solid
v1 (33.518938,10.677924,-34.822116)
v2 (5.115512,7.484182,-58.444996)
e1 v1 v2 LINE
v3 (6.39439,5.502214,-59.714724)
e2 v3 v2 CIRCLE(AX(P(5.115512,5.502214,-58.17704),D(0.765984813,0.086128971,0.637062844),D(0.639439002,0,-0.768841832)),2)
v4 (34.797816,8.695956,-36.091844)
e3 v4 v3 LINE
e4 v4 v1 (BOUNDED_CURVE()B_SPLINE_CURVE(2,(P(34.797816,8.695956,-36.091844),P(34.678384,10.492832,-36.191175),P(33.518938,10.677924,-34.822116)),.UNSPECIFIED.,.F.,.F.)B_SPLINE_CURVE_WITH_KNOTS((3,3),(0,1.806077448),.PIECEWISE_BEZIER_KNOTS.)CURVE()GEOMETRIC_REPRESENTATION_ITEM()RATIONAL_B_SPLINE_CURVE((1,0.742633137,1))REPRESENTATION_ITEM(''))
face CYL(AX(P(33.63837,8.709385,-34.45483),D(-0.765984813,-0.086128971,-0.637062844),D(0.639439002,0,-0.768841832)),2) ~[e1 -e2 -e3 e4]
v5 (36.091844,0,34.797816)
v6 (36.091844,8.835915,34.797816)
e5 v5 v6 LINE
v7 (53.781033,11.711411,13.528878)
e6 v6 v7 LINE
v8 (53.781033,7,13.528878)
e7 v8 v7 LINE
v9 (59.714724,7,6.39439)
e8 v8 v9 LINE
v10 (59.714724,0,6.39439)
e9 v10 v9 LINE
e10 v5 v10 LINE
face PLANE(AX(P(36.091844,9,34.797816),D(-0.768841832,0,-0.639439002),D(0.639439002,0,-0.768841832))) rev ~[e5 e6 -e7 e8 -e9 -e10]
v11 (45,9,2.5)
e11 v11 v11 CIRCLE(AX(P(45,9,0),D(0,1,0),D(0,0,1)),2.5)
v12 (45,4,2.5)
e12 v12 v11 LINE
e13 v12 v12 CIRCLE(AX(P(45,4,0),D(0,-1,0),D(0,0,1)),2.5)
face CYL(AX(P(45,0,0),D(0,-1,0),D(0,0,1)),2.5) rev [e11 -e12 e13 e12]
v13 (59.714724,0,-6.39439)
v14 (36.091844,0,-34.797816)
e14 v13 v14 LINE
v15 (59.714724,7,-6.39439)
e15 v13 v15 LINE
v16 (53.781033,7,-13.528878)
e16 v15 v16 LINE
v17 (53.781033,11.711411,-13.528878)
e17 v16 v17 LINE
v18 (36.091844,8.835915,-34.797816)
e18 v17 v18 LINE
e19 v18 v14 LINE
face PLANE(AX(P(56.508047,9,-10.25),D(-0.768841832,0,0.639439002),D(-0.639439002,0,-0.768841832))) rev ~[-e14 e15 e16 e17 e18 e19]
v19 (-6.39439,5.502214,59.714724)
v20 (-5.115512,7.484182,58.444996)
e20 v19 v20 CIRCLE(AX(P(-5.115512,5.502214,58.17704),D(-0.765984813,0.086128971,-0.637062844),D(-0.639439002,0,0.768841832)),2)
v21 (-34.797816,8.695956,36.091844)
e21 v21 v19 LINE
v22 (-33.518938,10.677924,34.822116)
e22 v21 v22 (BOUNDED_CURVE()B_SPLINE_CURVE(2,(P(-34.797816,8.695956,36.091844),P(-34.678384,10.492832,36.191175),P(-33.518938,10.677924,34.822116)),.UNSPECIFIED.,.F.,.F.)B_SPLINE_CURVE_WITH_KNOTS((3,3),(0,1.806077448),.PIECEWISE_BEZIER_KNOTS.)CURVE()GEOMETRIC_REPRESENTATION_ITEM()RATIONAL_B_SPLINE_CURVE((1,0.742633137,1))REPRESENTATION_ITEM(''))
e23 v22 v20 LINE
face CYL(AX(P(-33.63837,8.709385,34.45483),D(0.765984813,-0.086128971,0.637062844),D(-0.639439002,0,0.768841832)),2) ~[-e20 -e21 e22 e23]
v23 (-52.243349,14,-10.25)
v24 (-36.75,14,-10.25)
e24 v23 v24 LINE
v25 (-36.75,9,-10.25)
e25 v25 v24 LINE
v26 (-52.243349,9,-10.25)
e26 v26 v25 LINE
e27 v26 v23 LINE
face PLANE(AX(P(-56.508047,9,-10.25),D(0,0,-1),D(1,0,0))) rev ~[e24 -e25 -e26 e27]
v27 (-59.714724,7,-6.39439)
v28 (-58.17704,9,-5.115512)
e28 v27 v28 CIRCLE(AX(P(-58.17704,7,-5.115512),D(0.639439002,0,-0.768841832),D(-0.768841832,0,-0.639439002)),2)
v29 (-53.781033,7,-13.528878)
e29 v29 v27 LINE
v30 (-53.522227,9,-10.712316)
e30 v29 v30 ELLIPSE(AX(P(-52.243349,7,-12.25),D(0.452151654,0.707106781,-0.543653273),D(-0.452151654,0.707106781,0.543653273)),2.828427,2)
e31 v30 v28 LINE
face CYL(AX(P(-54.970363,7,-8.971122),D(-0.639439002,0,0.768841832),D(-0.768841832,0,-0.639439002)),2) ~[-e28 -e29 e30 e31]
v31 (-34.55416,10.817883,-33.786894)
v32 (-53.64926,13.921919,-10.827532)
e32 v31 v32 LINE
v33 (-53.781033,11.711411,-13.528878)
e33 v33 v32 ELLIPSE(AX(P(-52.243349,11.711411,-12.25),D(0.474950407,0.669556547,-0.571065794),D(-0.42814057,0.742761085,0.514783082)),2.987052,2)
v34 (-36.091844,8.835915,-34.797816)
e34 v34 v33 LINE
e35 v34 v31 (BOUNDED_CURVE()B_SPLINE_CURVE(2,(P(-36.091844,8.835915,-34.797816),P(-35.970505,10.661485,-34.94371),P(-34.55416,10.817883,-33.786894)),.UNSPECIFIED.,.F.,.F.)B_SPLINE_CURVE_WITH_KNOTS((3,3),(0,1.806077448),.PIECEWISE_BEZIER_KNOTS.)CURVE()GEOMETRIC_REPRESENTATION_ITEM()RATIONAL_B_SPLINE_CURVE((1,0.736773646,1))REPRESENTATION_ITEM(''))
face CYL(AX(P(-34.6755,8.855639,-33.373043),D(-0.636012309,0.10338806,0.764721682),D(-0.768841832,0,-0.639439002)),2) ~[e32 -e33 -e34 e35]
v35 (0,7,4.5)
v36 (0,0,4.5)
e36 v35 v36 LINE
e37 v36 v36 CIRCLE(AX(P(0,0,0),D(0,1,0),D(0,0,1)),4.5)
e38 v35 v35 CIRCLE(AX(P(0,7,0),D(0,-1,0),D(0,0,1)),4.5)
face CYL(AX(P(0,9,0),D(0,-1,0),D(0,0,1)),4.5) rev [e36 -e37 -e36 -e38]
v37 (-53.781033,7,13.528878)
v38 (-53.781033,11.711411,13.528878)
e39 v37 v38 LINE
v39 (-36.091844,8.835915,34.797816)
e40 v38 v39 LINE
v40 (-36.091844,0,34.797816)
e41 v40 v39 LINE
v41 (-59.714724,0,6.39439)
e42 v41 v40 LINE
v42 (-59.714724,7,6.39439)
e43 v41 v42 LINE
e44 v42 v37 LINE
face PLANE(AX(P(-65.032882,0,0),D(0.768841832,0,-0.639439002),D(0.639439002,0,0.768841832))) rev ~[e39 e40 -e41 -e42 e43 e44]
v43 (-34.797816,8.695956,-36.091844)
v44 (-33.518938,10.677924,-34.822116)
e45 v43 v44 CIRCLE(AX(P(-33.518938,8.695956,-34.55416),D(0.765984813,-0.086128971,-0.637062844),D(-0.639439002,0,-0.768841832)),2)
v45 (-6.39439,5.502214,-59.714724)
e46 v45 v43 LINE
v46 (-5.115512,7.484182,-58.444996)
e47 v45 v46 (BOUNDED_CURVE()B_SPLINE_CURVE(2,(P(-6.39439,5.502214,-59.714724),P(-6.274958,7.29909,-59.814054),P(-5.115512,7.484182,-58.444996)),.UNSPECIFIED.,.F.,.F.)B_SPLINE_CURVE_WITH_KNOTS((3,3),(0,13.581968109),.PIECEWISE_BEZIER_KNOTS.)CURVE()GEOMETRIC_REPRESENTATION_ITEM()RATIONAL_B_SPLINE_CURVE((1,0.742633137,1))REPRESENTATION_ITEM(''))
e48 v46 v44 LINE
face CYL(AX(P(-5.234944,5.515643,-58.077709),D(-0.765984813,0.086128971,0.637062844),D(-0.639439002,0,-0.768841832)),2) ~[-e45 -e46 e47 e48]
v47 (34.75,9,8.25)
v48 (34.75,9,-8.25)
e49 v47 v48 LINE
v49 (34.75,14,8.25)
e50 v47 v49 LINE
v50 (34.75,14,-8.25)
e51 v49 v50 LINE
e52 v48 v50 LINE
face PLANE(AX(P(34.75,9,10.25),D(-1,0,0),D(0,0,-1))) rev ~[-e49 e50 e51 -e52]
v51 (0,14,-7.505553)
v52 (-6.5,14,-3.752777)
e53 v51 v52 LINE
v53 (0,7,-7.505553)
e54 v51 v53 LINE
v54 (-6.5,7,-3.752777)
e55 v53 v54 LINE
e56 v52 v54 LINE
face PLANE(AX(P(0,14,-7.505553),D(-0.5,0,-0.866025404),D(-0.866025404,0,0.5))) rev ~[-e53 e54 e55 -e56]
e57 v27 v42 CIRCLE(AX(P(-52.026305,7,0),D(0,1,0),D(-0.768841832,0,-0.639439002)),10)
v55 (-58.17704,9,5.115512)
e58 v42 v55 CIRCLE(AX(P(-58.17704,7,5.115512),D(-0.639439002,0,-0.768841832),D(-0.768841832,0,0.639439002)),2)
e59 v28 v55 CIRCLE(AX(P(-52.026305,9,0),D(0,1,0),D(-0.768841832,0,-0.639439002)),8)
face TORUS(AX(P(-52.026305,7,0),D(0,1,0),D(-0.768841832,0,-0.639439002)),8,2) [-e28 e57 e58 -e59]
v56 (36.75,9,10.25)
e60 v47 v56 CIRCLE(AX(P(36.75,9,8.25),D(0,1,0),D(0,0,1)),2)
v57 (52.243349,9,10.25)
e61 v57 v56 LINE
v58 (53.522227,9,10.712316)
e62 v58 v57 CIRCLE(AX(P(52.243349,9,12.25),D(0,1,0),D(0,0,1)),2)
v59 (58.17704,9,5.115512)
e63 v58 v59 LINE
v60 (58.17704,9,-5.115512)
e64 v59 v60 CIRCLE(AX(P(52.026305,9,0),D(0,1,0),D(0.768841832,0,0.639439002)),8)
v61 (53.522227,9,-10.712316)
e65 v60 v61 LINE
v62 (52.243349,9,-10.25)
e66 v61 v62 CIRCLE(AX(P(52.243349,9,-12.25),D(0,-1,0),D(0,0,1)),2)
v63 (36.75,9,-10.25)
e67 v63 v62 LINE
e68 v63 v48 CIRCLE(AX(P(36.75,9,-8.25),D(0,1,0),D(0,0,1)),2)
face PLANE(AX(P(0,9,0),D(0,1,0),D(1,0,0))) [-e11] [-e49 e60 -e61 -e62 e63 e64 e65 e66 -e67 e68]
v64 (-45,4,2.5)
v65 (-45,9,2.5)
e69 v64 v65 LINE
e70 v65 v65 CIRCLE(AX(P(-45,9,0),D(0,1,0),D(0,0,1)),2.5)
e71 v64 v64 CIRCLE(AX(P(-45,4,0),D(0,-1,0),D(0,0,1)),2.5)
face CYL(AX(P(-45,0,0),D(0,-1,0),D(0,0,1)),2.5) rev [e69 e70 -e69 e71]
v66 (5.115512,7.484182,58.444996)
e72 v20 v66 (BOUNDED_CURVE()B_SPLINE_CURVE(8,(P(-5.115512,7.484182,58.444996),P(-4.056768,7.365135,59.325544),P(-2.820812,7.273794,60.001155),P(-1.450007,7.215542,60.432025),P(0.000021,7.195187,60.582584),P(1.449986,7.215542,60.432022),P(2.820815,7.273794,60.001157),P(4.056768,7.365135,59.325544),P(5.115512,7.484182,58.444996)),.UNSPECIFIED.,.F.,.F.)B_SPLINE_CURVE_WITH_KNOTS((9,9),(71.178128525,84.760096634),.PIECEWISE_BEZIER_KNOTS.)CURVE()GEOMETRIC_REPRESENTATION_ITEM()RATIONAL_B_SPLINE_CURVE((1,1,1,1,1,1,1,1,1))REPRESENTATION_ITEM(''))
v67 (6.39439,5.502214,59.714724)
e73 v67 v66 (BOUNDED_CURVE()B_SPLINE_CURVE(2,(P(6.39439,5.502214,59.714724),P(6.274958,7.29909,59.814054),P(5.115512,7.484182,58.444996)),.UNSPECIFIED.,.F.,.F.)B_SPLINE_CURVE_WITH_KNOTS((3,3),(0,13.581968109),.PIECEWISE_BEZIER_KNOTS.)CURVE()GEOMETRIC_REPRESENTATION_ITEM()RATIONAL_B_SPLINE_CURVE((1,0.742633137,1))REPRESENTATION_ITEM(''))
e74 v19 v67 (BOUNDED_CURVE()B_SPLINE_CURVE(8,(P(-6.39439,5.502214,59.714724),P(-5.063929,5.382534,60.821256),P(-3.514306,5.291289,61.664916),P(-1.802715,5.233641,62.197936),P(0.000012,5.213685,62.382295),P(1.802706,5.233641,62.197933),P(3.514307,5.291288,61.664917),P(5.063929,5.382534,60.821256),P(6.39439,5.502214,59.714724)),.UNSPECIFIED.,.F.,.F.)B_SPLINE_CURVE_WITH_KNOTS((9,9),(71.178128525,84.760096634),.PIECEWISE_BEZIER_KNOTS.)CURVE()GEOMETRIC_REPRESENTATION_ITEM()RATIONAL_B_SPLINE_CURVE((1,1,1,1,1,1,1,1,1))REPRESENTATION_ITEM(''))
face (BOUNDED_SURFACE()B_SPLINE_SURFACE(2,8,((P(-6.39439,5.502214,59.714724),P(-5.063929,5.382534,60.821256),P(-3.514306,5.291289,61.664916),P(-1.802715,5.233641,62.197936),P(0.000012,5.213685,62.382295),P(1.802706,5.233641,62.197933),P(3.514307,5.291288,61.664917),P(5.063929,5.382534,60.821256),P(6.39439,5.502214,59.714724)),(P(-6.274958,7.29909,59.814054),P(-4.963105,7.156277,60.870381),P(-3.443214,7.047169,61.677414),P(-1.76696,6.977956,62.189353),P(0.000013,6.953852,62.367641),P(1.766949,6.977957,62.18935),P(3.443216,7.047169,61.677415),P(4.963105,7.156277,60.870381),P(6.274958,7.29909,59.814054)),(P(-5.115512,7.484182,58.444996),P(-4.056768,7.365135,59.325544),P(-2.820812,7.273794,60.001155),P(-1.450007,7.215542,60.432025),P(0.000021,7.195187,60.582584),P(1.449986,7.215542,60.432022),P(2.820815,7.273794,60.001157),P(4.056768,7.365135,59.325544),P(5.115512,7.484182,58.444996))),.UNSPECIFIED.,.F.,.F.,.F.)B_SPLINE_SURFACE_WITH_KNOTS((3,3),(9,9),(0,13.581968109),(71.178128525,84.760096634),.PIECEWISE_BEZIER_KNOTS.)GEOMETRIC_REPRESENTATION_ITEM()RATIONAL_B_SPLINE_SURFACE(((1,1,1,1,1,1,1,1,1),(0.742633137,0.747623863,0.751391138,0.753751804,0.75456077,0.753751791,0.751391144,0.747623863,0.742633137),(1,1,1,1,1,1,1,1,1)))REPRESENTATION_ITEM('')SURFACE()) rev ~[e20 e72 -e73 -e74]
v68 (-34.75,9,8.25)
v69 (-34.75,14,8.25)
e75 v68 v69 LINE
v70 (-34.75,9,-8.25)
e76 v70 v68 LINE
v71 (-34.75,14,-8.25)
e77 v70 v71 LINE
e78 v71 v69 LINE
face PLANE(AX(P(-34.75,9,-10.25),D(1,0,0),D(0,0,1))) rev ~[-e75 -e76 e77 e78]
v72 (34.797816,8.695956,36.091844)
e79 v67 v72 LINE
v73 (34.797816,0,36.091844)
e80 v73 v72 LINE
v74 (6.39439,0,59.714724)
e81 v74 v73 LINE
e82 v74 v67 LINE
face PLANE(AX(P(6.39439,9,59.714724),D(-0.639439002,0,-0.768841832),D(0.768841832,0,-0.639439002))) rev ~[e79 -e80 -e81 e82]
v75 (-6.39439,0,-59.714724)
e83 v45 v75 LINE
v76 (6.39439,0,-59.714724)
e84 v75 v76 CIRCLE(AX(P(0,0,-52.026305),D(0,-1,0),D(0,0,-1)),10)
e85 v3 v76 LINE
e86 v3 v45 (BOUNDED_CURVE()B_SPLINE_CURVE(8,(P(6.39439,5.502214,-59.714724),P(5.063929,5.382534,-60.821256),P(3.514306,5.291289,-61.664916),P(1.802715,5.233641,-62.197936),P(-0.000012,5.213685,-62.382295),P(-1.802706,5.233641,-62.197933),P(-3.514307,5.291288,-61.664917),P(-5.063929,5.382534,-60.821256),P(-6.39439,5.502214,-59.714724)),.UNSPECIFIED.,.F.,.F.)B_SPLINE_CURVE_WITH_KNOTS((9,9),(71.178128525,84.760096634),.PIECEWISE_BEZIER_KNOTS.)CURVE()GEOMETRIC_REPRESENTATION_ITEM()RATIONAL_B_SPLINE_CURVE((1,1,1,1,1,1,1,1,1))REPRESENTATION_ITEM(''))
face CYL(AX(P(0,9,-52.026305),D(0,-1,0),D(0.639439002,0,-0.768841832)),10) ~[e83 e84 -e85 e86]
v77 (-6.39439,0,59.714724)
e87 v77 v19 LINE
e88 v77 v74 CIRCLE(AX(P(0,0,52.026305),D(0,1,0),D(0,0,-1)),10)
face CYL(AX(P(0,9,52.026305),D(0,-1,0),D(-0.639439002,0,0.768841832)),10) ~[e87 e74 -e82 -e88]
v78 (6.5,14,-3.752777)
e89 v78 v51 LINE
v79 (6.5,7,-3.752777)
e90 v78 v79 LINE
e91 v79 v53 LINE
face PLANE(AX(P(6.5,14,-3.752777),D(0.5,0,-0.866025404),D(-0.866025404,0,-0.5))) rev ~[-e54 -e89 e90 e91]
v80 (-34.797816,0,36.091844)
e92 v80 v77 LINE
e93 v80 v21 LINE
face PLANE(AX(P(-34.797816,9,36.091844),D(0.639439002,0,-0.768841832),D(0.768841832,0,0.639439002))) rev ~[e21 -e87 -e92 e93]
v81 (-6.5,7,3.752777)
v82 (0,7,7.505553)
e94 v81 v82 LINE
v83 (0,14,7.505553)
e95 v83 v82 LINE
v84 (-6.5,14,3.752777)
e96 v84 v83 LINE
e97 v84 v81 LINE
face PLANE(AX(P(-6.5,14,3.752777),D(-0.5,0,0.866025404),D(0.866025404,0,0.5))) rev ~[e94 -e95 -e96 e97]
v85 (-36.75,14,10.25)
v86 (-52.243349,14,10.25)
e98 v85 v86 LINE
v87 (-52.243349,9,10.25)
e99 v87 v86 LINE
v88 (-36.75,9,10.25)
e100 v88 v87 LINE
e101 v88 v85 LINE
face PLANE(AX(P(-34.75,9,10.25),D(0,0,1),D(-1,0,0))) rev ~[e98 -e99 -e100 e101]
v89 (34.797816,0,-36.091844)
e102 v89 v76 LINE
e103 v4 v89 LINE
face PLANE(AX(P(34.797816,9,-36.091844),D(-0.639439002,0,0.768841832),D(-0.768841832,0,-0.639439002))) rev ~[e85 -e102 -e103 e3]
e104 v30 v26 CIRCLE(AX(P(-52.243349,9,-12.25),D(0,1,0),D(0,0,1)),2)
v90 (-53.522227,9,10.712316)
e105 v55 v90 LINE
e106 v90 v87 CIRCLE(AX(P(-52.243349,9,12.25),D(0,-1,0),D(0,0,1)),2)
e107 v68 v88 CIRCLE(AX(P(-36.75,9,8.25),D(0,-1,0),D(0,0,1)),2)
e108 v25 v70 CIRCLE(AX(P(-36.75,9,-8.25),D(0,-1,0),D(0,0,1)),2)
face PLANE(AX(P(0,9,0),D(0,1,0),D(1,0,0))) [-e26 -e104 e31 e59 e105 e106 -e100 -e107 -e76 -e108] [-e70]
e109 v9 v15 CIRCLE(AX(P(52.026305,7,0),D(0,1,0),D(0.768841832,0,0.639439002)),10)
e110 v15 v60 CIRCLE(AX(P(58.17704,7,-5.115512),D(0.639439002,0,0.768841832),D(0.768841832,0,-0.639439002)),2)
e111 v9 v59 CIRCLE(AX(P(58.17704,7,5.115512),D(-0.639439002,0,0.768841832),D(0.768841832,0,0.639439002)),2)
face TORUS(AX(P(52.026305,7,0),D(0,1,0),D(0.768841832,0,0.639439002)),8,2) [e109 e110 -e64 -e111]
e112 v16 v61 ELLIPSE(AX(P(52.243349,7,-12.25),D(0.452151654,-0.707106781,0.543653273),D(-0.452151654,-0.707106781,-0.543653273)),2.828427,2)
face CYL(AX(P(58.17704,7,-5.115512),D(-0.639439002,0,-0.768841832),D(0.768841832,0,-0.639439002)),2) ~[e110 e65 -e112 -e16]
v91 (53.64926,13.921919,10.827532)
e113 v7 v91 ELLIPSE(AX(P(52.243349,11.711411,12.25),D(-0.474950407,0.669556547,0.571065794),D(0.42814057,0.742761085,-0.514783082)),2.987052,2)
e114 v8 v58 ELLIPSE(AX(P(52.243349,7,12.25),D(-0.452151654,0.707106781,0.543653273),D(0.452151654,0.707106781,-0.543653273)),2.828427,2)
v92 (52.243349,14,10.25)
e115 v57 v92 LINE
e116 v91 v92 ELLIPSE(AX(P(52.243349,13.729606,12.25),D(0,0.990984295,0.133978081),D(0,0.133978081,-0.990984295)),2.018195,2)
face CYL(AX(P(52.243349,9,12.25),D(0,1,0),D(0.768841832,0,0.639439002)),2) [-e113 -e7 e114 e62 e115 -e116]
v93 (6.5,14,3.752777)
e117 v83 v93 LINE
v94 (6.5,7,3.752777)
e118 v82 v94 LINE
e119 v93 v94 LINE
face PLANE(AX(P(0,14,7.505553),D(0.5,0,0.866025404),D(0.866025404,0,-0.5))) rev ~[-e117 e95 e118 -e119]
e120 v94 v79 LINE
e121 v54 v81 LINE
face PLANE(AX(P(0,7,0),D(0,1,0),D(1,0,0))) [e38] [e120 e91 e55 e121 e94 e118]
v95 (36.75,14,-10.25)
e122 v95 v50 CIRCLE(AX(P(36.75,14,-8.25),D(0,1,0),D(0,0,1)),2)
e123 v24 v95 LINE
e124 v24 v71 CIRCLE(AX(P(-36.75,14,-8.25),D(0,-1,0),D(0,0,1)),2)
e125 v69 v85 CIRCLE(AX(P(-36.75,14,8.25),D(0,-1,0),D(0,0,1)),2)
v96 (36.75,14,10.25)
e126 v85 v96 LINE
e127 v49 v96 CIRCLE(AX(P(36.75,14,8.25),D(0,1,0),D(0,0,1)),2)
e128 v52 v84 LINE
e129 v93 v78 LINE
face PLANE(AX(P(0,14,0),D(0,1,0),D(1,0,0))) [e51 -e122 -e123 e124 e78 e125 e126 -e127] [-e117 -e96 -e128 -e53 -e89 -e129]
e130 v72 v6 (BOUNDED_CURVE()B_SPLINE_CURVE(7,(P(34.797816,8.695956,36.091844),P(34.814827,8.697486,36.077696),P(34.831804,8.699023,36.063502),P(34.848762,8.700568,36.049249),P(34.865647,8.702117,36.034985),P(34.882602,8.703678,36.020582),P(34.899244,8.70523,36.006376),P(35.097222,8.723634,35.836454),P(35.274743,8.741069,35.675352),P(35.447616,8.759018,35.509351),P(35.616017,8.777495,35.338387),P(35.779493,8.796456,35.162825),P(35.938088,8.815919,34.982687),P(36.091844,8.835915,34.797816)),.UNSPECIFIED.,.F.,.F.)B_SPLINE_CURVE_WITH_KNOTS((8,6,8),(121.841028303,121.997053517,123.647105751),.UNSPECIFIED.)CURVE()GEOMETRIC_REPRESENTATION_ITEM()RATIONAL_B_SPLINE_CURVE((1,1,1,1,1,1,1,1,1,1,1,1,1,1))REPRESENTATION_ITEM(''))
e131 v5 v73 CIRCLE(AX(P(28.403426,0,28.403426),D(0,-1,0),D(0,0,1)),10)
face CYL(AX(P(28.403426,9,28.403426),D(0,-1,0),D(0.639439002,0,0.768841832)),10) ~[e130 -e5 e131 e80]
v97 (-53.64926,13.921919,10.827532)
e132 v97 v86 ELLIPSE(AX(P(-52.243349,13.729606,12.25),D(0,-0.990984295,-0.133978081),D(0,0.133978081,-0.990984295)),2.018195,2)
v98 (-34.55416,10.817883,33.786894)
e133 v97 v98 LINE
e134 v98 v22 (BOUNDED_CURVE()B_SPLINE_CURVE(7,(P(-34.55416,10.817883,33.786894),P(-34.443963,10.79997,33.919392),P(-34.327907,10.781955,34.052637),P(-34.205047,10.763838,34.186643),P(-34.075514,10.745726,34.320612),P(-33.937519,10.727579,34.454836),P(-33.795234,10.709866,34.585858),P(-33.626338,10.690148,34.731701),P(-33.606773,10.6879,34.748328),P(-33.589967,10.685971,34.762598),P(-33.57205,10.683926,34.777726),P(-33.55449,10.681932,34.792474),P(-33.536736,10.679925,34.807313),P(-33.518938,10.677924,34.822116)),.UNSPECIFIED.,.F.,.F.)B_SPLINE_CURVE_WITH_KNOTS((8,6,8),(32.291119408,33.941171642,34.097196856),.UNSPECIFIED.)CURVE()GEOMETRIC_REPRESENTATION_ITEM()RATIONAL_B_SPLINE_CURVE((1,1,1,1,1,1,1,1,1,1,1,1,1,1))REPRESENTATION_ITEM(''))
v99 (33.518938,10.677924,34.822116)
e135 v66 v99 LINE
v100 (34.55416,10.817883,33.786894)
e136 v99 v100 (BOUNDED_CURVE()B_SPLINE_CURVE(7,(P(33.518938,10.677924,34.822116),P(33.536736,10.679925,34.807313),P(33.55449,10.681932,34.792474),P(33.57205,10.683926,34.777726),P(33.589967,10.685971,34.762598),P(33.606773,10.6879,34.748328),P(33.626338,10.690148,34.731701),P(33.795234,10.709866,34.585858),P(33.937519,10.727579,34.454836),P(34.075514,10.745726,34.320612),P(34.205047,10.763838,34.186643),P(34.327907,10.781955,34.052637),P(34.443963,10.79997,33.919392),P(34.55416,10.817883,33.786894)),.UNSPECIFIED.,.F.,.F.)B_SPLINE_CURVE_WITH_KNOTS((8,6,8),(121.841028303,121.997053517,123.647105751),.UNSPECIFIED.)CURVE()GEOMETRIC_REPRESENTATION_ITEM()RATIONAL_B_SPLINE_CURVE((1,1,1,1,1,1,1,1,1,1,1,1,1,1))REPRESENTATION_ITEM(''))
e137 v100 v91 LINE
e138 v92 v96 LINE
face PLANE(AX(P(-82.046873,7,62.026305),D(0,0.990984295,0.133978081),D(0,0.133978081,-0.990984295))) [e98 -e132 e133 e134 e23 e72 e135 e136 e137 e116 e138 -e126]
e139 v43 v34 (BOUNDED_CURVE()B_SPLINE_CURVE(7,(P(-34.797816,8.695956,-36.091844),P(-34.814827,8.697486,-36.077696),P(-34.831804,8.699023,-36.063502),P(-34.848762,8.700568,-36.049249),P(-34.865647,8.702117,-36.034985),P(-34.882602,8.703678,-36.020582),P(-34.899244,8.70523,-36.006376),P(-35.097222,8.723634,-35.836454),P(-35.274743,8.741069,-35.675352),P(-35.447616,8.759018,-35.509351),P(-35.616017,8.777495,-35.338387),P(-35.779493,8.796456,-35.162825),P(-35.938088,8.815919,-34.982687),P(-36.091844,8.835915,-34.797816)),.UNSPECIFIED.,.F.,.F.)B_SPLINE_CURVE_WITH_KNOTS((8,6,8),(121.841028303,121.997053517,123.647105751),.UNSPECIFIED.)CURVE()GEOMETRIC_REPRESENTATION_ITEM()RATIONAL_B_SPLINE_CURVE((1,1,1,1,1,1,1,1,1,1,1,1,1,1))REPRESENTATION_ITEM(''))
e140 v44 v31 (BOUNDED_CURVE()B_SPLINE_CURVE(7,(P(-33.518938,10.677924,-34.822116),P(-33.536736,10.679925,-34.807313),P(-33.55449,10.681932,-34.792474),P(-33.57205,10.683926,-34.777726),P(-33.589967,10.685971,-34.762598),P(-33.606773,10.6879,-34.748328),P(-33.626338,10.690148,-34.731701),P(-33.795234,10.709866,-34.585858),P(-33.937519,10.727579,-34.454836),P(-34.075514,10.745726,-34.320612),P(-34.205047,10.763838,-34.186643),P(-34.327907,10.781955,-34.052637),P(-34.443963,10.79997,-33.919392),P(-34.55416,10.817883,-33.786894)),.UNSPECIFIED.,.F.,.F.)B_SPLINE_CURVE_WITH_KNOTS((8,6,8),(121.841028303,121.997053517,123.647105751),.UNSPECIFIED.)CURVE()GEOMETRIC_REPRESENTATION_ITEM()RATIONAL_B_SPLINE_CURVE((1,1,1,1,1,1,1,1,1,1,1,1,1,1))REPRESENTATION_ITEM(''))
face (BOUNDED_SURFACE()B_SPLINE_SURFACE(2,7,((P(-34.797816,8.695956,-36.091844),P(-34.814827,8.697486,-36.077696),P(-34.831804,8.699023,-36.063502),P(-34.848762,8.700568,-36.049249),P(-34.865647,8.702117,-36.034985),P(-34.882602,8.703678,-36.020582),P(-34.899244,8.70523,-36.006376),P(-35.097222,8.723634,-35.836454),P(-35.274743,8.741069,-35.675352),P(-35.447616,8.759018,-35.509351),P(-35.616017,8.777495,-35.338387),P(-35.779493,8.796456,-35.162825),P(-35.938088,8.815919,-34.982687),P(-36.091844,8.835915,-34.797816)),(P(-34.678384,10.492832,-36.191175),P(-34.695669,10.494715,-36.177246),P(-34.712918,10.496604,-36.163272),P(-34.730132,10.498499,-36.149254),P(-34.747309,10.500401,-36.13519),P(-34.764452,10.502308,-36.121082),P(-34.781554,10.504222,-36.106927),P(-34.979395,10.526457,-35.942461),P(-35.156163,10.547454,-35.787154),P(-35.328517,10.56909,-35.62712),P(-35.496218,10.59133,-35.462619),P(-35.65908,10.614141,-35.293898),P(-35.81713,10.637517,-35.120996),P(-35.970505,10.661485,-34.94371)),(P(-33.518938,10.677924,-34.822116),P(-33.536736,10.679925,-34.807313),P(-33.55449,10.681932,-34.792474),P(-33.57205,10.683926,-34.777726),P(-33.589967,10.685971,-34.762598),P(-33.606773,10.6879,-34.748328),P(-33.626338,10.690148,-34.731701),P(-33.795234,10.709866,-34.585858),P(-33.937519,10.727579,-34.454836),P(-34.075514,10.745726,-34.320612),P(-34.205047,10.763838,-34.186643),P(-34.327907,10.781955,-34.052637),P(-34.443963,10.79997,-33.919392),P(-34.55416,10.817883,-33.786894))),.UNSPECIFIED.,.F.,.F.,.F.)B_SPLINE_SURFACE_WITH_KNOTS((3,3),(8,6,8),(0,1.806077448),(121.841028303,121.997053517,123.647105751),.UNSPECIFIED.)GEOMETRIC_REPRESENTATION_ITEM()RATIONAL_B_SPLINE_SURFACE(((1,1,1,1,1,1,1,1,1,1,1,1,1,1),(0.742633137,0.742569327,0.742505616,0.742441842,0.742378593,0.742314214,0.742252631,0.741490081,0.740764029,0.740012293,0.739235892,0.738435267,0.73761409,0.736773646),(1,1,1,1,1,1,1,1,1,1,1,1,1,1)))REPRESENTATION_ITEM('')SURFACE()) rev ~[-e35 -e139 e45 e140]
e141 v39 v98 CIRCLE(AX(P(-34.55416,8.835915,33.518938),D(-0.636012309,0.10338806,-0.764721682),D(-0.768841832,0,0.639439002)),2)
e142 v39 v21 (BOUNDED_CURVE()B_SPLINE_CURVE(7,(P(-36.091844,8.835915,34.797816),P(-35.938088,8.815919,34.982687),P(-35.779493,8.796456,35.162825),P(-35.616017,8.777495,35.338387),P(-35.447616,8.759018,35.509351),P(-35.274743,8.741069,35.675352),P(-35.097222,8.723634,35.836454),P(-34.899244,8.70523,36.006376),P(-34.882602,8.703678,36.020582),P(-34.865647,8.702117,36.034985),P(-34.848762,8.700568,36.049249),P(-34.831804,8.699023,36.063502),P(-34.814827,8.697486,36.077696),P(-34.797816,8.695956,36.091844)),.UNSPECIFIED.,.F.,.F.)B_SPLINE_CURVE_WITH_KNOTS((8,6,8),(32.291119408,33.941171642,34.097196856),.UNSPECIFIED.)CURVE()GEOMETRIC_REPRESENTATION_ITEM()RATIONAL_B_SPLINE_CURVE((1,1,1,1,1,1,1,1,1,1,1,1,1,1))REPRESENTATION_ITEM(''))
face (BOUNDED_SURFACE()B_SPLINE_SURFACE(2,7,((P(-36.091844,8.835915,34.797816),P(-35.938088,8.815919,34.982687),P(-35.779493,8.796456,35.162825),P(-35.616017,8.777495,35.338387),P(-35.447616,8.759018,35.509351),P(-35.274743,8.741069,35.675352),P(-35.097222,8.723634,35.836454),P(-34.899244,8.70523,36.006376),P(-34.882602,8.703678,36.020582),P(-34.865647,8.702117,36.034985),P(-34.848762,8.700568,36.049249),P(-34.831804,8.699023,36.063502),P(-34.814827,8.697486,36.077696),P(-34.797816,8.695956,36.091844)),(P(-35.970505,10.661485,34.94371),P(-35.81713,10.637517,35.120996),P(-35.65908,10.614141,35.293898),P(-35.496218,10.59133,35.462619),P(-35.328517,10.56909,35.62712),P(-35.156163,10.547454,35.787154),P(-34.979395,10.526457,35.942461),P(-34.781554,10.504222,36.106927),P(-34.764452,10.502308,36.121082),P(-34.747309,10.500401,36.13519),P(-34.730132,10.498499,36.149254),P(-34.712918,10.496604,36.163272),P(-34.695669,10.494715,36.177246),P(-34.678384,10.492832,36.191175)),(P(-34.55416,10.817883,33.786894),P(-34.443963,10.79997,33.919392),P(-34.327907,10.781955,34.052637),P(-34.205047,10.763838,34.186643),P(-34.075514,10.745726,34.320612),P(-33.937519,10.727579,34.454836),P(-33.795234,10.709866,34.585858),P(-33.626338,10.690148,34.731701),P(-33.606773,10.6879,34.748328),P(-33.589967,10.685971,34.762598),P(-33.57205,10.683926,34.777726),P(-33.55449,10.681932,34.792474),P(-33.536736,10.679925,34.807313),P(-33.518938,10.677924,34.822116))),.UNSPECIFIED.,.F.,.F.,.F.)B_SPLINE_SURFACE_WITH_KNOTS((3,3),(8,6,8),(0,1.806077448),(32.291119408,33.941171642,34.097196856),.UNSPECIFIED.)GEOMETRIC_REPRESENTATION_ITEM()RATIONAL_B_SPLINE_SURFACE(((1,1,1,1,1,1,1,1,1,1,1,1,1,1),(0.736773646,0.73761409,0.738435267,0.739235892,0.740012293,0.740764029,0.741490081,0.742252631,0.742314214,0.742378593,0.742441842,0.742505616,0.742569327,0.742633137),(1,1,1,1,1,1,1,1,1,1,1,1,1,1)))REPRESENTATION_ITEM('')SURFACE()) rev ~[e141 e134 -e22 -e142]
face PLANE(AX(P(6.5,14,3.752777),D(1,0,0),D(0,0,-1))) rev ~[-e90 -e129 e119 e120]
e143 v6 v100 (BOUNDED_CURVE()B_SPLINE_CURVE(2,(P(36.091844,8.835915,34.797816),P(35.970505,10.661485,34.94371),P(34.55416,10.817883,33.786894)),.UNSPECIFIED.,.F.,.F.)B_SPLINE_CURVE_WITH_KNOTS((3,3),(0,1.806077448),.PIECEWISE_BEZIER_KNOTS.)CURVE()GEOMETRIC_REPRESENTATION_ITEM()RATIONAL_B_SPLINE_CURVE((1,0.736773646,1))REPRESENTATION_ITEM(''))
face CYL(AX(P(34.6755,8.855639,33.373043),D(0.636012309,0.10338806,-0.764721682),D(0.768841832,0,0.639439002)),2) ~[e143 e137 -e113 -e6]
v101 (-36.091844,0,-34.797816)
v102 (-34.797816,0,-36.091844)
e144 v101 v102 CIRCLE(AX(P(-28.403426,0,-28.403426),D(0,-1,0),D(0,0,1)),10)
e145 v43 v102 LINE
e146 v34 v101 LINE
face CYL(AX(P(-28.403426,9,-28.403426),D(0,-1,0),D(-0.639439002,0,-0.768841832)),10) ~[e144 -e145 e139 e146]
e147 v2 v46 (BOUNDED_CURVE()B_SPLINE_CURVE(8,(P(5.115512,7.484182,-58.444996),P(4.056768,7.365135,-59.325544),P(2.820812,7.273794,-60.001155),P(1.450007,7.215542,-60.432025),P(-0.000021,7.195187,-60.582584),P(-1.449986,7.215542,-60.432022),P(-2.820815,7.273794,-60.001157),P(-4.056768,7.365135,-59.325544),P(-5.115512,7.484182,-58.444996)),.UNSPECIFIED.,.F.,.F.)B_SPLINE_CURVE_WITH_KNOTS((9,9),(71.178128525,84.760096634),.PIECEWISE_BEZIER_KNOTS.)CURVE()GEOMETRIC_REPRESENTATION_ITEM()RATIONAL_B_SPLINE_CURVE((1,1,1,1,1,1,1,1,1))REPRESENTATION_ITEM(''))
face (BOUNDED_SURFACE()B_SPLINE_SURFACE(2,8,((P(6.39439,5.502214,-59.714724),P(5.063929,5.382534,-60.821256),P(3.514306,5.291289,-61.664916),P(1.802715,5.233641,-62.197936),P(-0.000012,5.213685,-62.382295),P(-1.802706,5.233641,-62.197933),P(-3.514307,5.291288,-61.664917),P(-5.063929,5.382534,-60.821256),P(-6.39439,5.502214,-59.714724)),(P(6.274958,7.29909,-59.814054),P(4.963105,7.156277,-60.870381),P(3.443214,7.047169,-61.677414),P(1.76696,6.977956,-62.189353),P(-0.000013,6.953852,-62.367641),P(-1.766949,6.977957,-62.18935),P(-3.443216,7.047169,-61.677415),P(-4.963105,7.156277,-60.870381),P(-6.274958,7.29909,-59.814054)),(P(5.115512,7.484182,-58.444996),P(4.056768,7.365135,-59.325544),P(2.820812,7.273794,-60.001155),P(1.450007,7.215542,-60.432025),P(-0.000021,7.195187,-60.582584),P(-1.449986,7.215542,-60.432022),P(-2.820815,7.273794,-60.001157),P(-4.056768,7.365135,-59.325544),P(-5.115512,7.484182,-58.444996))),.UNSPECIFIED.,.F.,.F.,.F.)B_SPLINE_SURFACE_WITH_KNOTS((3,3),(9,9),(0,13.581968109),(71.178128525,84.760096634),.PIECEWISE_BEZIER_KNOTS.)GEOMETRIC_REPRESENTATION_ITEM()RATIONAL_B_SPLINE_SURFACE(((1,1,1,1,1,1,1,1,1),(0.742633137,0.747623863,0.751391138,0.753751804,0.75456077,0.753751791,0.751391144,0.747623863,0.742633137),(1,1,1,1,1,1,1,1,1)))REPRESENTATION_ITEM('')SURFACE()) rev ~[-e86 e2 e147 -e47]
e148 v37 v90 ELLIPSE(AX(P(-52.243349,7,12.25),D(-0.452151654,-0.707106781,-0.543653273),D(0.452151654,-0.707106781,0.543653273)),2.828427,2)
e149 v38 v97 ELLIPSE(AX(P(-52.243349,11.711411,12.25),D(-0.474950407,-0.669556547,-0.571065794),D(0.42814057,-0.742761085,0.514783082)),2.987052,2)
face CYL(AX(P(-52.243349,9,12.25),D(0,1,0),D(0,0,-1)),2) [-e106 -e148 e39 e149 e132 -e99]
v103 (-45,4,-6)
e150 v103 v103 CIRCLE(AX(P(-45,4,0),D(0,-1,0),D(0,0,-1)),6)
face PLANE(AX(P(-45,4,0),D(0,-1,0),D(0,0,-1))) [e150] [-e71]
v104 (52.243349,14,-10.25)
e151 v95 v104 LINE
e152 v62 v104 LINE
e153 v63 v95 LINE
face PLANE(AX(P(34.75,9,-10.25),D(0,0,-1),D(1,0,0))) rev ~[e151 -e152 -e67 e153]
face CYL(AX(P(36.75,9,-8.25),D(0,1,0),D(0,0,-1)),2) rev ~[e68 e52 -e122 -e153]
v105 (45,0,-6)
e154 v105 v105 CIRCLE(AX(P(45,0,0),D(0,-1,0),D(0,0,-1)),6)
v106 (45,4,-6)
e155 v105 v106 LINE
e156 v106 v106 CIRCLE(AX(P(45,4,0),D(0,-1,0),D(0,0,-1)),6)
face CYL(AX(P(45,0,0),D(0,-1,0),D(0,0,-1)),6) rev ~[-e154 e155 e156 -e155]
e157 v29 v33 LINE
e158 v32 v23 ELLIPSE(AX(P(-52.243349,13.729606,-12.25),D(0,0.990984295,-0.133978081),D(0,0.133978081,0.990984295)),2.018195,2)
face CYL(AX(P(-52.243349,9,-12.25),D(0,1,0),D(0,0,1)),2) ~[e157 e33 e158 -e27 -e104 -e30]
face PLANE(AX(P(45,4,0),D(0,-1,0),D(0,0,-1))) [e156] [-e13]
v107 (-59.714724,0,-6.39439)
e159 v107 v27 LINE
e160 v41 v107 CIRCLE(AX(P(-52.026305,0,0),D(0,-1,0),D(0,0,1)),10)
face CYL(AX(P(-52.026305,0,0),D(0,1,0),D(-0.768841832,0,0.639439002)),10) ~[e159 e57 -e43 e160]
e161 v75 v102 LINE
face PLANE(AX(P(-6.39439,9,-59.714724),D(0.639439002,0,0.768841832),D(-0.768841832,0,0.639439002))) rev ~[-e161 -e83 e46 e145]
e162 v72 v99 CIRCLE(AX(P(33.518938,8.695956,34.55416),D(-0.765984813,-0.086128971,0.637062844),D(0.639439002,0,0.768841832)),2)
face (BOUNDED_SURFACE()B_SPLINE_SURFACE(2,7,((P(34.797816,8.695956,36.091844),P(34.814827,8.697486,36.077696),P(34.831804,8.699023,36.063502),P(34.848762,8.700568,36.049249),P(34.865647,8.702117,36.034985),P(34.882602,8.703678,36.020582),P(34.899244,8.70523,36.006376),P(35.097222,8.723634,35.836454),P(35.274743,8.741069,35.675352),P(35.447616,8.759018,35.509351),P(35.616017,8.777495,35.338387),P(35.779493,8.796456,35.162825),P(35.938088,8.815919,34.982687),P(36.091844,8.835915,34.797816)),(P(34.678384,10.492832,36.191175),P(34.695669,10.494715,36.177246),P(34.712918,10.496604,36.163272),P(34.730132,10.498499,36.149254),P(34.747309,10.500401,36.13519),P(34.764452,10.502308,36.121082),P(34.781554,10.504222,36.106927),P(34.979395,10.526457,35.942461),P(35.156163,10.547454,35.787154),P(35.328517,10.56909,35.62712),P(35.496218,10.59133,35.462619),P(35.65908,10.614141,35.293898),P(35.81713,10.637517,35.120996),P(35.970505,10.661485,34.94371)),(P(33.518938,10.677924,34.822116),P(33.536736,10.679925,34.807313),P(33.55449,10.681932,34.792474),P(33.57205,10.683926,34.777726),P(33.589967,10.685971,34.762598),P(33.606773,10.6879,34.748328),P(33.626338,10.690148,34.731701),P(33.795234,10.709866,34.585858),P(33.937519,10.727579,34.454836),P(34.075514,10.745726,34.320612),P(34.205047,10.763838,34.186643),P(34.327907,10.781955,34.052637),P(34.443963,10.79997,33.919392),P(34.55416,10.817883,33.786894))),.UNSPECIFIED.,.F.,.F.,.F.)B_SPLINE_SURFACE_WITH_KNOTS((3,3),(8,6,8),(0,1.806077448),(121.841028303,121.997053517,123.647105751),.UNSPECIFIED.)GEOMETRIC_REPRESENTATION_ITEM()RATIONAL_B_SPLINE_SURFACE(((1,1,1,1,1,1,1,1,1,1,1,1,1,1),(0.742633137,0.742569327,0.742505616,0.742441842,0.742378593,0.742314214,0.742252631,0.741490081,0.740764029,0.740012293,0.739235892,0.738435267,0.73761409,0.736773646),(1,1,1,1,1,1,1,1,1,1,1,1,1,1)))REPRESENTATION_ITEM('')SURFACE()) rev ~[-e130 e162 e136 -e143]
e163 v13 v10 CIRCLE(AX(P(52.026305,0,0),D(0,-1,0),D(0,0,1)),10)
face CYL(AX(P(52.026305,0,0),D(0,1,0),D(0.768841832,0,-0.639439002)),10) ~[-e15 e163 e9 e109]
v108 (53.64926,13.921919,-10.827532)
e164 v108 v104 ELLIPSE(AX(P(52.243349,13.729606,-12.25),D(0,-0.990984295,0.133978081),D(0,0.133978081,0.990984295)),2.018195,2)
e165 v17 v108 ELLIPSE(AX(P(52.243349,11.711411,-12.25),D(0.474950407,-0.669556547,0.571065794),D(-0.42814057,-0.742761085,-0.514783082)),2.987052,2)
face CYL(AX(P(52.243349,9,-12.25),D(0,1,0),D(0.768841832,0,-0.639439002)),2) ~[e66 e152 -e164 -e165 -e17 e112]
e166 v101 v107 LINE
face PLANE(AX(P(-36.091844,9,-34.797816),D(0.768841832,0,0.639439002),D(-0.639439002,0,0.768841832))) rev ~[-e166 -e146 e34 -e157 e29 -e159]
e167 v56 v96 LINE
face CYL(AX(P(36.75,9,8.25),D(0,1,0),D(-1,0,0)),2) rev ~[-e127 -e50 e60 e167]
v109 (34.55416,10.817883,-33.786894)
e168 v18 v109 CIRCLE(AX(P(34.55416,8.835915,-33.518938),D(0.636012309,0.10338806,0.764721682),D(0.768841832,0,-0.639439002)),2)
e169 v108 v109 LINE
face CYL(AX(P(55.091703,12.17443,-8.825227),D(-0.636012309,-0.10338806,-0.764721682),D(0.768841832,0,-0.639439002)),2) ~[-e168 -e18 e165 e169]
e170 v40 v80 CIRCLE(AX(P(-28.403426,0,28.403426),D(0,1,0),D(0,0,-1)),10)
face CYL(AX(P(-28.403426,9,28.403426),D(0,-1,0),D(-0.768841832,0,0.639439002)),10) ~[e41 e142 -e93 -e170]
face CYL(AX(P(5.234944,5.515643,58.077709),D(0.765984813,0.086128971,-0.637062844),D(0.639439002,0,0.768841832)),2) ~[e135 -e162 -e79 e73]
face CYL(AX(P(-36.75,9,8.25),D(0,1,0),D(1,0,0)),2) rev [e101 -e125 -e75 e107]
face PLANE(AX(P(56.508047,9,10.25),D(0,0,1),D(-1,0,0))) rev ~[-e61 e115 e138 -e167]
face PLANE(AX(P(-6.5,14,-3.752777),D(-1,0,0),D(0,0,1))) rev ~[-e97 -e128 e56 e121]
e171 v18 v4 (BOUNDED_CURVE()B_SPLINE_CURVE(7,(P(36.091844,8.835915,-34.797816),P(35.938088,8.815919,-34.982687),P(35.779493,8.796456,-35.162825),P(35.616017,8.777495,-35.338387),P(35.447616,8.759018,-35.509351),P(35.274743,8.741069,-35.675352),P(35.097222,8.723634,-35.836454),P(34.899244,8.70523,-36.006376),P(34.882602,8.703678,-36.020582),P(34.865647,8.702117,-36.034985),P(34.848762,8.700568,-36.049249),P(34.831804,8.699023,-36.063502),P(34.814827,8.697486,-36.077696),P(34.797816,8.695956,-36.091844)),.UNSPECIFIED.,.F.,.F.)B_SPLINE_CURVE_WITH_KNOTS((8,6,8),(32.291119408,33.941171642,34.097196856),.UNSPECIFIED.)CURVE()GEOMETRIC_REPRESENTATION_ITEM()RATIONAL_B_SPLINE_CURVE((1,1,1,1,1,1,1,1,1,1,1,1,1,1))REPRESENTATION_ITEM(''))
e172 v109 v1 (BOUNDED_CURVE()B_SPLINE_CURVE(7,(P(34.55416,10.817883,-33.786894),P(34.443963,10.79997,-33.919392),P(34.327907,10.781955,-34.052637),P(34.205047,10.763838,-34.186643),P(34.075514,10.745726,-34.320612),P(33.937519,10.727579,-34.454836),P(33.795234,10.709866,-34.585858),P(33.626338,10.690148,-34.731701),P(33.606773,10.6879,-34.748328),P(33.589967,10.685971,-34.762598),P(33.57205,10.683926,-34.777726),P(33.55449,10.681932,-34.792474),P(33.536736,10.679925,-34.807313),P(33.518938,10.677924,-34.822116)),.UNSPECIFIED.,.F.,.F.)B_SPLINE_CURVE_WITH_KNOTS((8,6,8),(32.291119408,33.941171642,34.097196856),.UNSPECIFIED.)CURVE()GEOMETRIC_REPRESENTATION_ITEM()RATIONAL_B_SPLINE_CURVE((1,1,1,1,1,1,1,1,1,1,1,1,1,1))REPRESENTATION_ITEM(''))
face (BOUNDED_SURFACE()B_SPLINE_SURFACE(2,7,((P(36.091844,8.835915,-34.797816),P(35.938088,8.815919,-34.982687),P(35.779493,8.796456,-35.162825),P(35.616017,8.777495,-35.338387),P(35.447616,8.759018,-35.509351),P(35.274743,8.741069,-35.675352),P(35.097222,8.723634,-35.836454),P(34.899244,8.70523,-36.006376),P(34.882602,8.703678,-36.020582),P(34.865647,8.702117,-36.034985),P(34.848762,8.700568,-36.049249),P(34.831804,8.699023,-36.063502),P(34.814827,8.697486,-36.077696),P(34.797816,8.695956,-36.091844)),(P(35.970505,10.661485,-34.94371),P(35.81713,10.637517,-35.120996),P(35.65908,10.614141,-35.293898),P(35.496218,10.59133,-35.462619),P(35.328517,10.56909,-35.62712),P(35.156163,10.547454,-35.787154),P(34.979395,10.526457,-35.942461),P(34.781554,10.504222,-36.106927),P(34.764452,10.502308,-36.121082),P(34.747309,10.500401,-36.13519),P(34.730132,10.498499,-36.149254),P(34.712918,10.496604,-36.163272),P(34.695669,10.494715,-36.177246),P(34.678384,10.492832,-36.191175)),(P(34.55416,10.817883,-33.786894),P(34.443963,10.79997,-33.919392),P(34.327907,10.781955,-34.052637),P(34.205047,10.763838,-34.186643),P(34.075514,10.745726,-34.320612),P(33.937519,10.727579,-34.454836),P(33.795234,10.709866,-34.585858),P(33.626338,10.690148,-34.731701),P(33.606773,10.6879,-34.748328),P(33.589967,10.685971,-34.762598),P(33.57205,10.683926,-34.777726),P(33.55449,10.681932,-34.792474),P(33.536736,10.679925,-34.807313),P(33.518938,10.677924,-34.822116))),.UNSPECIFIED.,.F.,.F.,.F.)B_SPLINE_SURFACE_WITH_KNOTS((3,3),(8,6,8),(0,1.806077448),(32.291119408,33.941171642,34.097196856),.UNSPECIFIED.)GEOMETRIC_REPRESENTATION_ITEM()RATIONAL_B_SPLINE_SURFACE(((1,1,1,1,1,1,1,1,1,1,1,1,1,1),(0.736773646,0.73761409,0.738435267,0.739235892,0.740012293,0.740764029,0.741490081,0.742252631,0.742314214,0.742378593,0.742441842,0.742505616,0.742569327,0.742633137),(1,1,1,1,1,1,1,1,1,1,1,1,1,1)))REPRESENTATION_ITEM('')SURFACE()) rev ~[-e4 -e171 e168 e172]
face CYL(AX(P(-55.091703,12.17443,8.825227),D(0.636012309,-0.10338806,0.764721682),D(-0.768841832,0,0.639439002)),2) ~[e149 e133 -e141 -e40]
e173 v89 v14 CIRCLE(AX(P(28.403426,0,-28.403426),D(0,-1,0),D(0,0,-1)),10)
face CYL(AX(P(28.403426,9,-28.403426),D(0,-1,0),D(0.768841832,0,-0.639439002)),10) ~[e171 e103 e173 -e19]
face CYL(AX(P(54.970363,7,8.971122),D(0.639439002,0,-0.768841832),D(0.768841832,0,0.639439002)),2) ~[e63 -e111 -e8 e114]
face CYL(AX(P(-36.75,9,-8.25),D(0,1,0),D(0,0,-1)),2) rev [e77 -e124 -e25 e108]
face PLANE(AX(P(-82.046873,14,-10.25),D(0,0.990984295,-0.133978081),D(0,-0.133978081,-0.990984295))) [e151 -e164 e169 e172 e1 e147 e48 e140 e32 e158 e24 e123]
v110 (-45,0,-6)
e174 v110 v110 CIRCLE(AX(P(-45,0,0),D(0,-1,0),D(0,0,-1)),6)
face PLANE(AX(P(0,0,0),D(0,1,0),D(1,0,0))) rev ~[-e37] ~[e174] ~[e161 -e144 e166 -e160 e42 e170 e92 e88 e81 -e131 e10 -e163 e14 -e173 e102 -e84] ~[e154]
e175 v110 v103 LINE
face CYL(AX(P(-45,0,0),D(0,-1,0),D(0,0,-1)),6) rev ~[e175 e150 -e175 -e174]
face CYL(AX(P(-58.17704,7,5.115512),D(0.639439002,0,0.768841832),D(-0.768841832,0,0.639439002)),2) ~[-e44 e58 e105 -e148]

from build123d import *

# Parameters (mm, degrees)
ESQUISSE1_R                  = 4.5
ESQUISSE1_R_2                = 2.4999999999999947
ESQUISSE1_R_3                = 2.500000000000002
BOSS_EXTRU_1_DEPTH           = 9
ESQUISSE2_OUTSIDE_W          = 172.788
ESQUISSE2_OUTSIDE_H          = 199.11
ENL_V_MAT_EXTRU_1_DEPTH      = 103.10046824457444
CONG_1_R                     = 10
ESQUISSE3_R                  = 4.5
BOSS_EXTRU_2_DEPTH           = 5
ENL_V_MAT_EXTRU_2_DEPTH      = 7
ESQUISSE5_R                  = 6.000000000000003
ENL_V_MAT_EXTRU_3_DEPTH      = 4
ENL_V_MAT_EXTRU_5_DEPTH      = 116.79687329576521
ENL_V_MAT_EXTRU_5_DEPTH_BACK = 116.79687329576521
CONG_2_R                     = 2


with BuildPart() as part:
    # Esquisse1 → Boss.-Extru.1 (new body)
    with BuildSketch(Plane(origin=(0, 0, 0), x_dir=(1, 0, 0), z_dir=(0, 1, 0))):
        Polygon((-65.03288181544035, -1.1e-16), (1.14e-14, -78.19354128404926), (65.03288181544036, -2.2e-16), (-1.33e-15, 78.19354128404929), align=None)
        with Locations(Location((0, 0, 0), (0, 0, 270))):
            Circle(ESQUISSE1_R, mode=Mode.SUBTRACT)
        with Locations(Location((-45, 0, 0), (0, 0, 270))):
            Circle(ESQUISSE1_R_2, mode=Mode.SUBTRACT)
        with Locations(Location((45, 0, 0), (0, 0, 270))):
            Circle(ESQUISSE1_R_3, mode=Mode.SUBTRACT)
    extrude(amount=BOSS_EXTRU_1_DEPTH)

    # Esquisse2 outside → Enlèv. mat.-Extru.1 (cut, through all)
    with BuildSketch(Plane(origin=(0, 9, 0), x_dir=(1, 0, 0), z_dir=(0, 1, 0))):
        Rectangle(ESQUISSE2_OUTSIDE_W, ESQUISSE2_OUTSIDE_H)
        Polygon((3.05e-15, 65.03288181544038), (-78.1935412840493, 1.183e-14), (-1.388e-14, -65.03288181544033), (78.1935412840493, 1.69e-14), align=None, mode=Mode.SUBTRACT)
    extrude(amount=-ENL_V_MAT_EXTRU_1_DEPTH, mode=Mode.SUBTRACT)

    # Congé1
    cong_1_edges = [part.edges().sort_by_distance(p)[0] for p in [
        (35.50428209412193, 4.5, -35.50428209412183),
        (35.504282094121805, 4.5, 35.50428209412193),
        (-35.50428209412127, 4.5, 35.50428209412245),
        (-35.504282094121926, 4.5, -35.504282094121834),
        (3.05e-15, 4.5, -65.03288181544038),
        (-1.388e-14, 4.5, 65.03288181544033),
        (65.03288181544036, 4.5, 2.2e-16),
        (-65.03288181544035, 4.5, 1.1e-16),
    ]]
    fillet(cong_1_edges, radius=CONG_1_R)

    # Esquisse3 → Boss.-Extru.2 (add)
    with BuildSketch(Plane(origin=(0, 9, 0), x_dir=(1, 0, 0), z_dir=(0, 1, 0))):
        with BuildLine():
            Line((-56.50804680142313, 10.250000000000002), (-34.74999999999999, 10.25))
            Line((-34.74999999999999, 10.25), (-34.74999999999999, -10.25))
            Line((-34.74999999999999, -10.25), (-56.50804680142313, -10.25))
            Line((-56.50804680142313, -10.25), (-36.091843996032054, -34.79781569510337))
            ThreePointArc((-36.091843996032054, -34.79781569510337), (-35.47449348716292, -35.47449348716301), (-34.79781569510328, -36.091843996032146))
            Line((-34.79781569510328, -36.091843996032146), (-6.394390019805823, -59.71472377308688))
            ThreePointArc((-6.394390019805823, -59.71472377308688), (-2.16e-15, -62.026305452352254), (6.3943900198058135, -59.71472377308687))
            Line((6.3943900198058135, -59.71472377308687), (34.797815695103374, -36.09184399603205))
            ThreePointArc((34.797815695103374, -36.09184399603205), (35.47449348716302, -35.47449348716292), (36.09184399603216, -34.79781569510327))
            Line((36.09184399603216, -34.79781569510327), (56.50804680142313, -10.25))
            Line((56.50804680142313, -10.25), (34.74999999999999, -10.25))
            Line((34.74999999999999, -10.25), (34.74999999999999, 10.25))
            Line((34.74999999999999, 10.25), (56.50804680142313, 10.250000000000002))
            Line((56.50804680142313, 10.250000000000002), (36.09184399603206, 34.797815695103395))
            ThreePointArc((36.09184399603206, 34.797815695103395), (35.47449348716294, 35.47449348716303), (34.7978156951033, 36.09184399603216))
            Line((34.7978156951033, 36.09184399603216), (6.394390019805837, 59.71472377308691))
            ThreePointArc((6.394390019805837, 59.71472377308691), (5.05e-15, 62.02630545235231), (-6.394390019805832, 59.71472377308692))
            Line((-6.394390019805832, 59.71472377308692), (-34.797815695103225, 36.09184399603222))
            ThreePointArc((-34.797815695103225, 36.09184399603222), (-35.47449348716287, 35.47449348716309), (-36.091843996032004, 34.79781569510345))
            Line((-36.091843996032004, 34.79781569510345), (-56.50804680142313, 10.250000000000002))
        make_face()
        with Locations(Location((0, 0, 0), (0, 0, 270))):
            Circle(ESQUISSE3_R, mode=Mode.SUBTRACT)
    extrude(amount=BOSS_EXTRU_2_DEPTH)

    # Esquisse4 → Enlèv. mat.-Extru.2 (cut)
    with BuildSketch(Plane(origin=(0, 13.999999999999998, 0), x_dir=(1, 0, 0), z_dir=(0, 1, 0))):
        Polygon((6.500000000000003, 3.7527767497325644), (3.51e-15, 7.5055534994651305), (-6.499999999999996, 3.752776749732566), (-6.499999999999996, -3.752776749732568), (7.1e-15, -7.505553499465138), (6.499999999999999, -3.752776749732574), align=None)
    extrude(amount=-ENL_V_MAT_EXTRU_2_DEPTH, mode=Mode.SUBTRACT)

    # Esquisse5 → Enlèv. mat.-Extru.3 (cut)
    with BuildSketch(Plane.XZ):
        with Locations(Location((-45, 0, 0), (0, 0, 270))):
            Circle(ESQUISSE5_R)
        with Locations(Location((45, 0, 0), (0, 0, 270))):
            Circle(ESQUISSE5_R)
    extrude(amount=-ENL_V_MAT_EXTRU_3_DEPTH, mode=Mode.SUBTRACT)

    # Esquisse6 → Enlèv. mat.-Extru.5 (cut, two sides: drawn at the far end of the back side and taken through both)
    with BuildSketch(Plane(origin=(34.74999999999999, 0, 0), x_dir=(0, 0, -1), z_dir=(1, 0, 0)).offset(-ENL_V_MAT_EXTRU_5_DEPTH_BACK)):
        Polygon((-62.02630545235226, 6.999999999999998), (-10.25, 13.999999999999998), (10.25, 13.999999999999998), (62.02630545235227, 7.000000000000001), (62.026305452352254, 36.4147856499244), (-62.026305452352254, 36.4147856499244), align=None)
    extrude(amount=ENL_V_MAT_EXTRU_5_DEPTH + ENL_V_MAT_EXTRU_5_DEPTH_BACK, mode=Mode.SUBTRACT)

    # Congé2
    cong_2_edges = [part.edges().sort_by_distance(p)[0] for p in [
        (58.11138528725502, 9, 8.322195009902927),
        (-58.11138528725501, 9, -8.322195009902927),
        (56.50804680142313, 11.5, 10.25),
        (34.74999999999999, 11.5, 10.25),
        (34.74999999999999, 11.5, -10.25),
        (56.50804680142313, 11.5, -10.250000000000002),
        (-56.50804680142313, 11.5, -10.250000000000002),
        (-34.74999999999999, 11.5, -10.25),
        (-34.74999999999999, 11.5, 10.25),
        (-56.50804680142313, 11.5, 10.25),
        (-46.299945398727594, 12.340604757673788, -22.523907847551726),
        (46.2999453987276, 12.340604757673791, -22.523907847551705),
        (20.596102857454603, 8.909389828239629, -47.90328388455951),
        (3.4028602353834634, 7.0806828820281655, -61.429525231685666),
        (35.47476156274495, 10.589760967545045, -35.47422540141744),
        (-46.299945398727345, 12.340604757673752, 22.523907847551982),
        (46.29994539872759, 12.340604757673788, 22.523907847551698),
        (3.4028602353834314, 7.080682882028164, 61.429525231685645),
        (20.596102857454596, 8.909389828239629, 47.903283884559464),
        (35.4747615627448, 10.589760967545022, 35.47422540141758),
        (-20.596102857454614, 8.909389828239625, -47.903283884559514),
        (-35.47476156274494, 10.589760967545041, -35.47422540141746),
        (-35.47476156274429, 10.589760967544956, 35.474225401418074),
        (-20.59610285745456, 8.909389828239624, 47.90328388455953),
        (58.11138528725502, 9, -8.322195009902925),
        (-58.111385287255004, 9, 8.322195009902918),
        (-62.02630545235229, 9, 8.38e-15),
        (62.02630545235229, 9, -4.51e-15),
    ]]
    fillet(cong_2_edges, radius=CONG_2_R)


solid = part.part
